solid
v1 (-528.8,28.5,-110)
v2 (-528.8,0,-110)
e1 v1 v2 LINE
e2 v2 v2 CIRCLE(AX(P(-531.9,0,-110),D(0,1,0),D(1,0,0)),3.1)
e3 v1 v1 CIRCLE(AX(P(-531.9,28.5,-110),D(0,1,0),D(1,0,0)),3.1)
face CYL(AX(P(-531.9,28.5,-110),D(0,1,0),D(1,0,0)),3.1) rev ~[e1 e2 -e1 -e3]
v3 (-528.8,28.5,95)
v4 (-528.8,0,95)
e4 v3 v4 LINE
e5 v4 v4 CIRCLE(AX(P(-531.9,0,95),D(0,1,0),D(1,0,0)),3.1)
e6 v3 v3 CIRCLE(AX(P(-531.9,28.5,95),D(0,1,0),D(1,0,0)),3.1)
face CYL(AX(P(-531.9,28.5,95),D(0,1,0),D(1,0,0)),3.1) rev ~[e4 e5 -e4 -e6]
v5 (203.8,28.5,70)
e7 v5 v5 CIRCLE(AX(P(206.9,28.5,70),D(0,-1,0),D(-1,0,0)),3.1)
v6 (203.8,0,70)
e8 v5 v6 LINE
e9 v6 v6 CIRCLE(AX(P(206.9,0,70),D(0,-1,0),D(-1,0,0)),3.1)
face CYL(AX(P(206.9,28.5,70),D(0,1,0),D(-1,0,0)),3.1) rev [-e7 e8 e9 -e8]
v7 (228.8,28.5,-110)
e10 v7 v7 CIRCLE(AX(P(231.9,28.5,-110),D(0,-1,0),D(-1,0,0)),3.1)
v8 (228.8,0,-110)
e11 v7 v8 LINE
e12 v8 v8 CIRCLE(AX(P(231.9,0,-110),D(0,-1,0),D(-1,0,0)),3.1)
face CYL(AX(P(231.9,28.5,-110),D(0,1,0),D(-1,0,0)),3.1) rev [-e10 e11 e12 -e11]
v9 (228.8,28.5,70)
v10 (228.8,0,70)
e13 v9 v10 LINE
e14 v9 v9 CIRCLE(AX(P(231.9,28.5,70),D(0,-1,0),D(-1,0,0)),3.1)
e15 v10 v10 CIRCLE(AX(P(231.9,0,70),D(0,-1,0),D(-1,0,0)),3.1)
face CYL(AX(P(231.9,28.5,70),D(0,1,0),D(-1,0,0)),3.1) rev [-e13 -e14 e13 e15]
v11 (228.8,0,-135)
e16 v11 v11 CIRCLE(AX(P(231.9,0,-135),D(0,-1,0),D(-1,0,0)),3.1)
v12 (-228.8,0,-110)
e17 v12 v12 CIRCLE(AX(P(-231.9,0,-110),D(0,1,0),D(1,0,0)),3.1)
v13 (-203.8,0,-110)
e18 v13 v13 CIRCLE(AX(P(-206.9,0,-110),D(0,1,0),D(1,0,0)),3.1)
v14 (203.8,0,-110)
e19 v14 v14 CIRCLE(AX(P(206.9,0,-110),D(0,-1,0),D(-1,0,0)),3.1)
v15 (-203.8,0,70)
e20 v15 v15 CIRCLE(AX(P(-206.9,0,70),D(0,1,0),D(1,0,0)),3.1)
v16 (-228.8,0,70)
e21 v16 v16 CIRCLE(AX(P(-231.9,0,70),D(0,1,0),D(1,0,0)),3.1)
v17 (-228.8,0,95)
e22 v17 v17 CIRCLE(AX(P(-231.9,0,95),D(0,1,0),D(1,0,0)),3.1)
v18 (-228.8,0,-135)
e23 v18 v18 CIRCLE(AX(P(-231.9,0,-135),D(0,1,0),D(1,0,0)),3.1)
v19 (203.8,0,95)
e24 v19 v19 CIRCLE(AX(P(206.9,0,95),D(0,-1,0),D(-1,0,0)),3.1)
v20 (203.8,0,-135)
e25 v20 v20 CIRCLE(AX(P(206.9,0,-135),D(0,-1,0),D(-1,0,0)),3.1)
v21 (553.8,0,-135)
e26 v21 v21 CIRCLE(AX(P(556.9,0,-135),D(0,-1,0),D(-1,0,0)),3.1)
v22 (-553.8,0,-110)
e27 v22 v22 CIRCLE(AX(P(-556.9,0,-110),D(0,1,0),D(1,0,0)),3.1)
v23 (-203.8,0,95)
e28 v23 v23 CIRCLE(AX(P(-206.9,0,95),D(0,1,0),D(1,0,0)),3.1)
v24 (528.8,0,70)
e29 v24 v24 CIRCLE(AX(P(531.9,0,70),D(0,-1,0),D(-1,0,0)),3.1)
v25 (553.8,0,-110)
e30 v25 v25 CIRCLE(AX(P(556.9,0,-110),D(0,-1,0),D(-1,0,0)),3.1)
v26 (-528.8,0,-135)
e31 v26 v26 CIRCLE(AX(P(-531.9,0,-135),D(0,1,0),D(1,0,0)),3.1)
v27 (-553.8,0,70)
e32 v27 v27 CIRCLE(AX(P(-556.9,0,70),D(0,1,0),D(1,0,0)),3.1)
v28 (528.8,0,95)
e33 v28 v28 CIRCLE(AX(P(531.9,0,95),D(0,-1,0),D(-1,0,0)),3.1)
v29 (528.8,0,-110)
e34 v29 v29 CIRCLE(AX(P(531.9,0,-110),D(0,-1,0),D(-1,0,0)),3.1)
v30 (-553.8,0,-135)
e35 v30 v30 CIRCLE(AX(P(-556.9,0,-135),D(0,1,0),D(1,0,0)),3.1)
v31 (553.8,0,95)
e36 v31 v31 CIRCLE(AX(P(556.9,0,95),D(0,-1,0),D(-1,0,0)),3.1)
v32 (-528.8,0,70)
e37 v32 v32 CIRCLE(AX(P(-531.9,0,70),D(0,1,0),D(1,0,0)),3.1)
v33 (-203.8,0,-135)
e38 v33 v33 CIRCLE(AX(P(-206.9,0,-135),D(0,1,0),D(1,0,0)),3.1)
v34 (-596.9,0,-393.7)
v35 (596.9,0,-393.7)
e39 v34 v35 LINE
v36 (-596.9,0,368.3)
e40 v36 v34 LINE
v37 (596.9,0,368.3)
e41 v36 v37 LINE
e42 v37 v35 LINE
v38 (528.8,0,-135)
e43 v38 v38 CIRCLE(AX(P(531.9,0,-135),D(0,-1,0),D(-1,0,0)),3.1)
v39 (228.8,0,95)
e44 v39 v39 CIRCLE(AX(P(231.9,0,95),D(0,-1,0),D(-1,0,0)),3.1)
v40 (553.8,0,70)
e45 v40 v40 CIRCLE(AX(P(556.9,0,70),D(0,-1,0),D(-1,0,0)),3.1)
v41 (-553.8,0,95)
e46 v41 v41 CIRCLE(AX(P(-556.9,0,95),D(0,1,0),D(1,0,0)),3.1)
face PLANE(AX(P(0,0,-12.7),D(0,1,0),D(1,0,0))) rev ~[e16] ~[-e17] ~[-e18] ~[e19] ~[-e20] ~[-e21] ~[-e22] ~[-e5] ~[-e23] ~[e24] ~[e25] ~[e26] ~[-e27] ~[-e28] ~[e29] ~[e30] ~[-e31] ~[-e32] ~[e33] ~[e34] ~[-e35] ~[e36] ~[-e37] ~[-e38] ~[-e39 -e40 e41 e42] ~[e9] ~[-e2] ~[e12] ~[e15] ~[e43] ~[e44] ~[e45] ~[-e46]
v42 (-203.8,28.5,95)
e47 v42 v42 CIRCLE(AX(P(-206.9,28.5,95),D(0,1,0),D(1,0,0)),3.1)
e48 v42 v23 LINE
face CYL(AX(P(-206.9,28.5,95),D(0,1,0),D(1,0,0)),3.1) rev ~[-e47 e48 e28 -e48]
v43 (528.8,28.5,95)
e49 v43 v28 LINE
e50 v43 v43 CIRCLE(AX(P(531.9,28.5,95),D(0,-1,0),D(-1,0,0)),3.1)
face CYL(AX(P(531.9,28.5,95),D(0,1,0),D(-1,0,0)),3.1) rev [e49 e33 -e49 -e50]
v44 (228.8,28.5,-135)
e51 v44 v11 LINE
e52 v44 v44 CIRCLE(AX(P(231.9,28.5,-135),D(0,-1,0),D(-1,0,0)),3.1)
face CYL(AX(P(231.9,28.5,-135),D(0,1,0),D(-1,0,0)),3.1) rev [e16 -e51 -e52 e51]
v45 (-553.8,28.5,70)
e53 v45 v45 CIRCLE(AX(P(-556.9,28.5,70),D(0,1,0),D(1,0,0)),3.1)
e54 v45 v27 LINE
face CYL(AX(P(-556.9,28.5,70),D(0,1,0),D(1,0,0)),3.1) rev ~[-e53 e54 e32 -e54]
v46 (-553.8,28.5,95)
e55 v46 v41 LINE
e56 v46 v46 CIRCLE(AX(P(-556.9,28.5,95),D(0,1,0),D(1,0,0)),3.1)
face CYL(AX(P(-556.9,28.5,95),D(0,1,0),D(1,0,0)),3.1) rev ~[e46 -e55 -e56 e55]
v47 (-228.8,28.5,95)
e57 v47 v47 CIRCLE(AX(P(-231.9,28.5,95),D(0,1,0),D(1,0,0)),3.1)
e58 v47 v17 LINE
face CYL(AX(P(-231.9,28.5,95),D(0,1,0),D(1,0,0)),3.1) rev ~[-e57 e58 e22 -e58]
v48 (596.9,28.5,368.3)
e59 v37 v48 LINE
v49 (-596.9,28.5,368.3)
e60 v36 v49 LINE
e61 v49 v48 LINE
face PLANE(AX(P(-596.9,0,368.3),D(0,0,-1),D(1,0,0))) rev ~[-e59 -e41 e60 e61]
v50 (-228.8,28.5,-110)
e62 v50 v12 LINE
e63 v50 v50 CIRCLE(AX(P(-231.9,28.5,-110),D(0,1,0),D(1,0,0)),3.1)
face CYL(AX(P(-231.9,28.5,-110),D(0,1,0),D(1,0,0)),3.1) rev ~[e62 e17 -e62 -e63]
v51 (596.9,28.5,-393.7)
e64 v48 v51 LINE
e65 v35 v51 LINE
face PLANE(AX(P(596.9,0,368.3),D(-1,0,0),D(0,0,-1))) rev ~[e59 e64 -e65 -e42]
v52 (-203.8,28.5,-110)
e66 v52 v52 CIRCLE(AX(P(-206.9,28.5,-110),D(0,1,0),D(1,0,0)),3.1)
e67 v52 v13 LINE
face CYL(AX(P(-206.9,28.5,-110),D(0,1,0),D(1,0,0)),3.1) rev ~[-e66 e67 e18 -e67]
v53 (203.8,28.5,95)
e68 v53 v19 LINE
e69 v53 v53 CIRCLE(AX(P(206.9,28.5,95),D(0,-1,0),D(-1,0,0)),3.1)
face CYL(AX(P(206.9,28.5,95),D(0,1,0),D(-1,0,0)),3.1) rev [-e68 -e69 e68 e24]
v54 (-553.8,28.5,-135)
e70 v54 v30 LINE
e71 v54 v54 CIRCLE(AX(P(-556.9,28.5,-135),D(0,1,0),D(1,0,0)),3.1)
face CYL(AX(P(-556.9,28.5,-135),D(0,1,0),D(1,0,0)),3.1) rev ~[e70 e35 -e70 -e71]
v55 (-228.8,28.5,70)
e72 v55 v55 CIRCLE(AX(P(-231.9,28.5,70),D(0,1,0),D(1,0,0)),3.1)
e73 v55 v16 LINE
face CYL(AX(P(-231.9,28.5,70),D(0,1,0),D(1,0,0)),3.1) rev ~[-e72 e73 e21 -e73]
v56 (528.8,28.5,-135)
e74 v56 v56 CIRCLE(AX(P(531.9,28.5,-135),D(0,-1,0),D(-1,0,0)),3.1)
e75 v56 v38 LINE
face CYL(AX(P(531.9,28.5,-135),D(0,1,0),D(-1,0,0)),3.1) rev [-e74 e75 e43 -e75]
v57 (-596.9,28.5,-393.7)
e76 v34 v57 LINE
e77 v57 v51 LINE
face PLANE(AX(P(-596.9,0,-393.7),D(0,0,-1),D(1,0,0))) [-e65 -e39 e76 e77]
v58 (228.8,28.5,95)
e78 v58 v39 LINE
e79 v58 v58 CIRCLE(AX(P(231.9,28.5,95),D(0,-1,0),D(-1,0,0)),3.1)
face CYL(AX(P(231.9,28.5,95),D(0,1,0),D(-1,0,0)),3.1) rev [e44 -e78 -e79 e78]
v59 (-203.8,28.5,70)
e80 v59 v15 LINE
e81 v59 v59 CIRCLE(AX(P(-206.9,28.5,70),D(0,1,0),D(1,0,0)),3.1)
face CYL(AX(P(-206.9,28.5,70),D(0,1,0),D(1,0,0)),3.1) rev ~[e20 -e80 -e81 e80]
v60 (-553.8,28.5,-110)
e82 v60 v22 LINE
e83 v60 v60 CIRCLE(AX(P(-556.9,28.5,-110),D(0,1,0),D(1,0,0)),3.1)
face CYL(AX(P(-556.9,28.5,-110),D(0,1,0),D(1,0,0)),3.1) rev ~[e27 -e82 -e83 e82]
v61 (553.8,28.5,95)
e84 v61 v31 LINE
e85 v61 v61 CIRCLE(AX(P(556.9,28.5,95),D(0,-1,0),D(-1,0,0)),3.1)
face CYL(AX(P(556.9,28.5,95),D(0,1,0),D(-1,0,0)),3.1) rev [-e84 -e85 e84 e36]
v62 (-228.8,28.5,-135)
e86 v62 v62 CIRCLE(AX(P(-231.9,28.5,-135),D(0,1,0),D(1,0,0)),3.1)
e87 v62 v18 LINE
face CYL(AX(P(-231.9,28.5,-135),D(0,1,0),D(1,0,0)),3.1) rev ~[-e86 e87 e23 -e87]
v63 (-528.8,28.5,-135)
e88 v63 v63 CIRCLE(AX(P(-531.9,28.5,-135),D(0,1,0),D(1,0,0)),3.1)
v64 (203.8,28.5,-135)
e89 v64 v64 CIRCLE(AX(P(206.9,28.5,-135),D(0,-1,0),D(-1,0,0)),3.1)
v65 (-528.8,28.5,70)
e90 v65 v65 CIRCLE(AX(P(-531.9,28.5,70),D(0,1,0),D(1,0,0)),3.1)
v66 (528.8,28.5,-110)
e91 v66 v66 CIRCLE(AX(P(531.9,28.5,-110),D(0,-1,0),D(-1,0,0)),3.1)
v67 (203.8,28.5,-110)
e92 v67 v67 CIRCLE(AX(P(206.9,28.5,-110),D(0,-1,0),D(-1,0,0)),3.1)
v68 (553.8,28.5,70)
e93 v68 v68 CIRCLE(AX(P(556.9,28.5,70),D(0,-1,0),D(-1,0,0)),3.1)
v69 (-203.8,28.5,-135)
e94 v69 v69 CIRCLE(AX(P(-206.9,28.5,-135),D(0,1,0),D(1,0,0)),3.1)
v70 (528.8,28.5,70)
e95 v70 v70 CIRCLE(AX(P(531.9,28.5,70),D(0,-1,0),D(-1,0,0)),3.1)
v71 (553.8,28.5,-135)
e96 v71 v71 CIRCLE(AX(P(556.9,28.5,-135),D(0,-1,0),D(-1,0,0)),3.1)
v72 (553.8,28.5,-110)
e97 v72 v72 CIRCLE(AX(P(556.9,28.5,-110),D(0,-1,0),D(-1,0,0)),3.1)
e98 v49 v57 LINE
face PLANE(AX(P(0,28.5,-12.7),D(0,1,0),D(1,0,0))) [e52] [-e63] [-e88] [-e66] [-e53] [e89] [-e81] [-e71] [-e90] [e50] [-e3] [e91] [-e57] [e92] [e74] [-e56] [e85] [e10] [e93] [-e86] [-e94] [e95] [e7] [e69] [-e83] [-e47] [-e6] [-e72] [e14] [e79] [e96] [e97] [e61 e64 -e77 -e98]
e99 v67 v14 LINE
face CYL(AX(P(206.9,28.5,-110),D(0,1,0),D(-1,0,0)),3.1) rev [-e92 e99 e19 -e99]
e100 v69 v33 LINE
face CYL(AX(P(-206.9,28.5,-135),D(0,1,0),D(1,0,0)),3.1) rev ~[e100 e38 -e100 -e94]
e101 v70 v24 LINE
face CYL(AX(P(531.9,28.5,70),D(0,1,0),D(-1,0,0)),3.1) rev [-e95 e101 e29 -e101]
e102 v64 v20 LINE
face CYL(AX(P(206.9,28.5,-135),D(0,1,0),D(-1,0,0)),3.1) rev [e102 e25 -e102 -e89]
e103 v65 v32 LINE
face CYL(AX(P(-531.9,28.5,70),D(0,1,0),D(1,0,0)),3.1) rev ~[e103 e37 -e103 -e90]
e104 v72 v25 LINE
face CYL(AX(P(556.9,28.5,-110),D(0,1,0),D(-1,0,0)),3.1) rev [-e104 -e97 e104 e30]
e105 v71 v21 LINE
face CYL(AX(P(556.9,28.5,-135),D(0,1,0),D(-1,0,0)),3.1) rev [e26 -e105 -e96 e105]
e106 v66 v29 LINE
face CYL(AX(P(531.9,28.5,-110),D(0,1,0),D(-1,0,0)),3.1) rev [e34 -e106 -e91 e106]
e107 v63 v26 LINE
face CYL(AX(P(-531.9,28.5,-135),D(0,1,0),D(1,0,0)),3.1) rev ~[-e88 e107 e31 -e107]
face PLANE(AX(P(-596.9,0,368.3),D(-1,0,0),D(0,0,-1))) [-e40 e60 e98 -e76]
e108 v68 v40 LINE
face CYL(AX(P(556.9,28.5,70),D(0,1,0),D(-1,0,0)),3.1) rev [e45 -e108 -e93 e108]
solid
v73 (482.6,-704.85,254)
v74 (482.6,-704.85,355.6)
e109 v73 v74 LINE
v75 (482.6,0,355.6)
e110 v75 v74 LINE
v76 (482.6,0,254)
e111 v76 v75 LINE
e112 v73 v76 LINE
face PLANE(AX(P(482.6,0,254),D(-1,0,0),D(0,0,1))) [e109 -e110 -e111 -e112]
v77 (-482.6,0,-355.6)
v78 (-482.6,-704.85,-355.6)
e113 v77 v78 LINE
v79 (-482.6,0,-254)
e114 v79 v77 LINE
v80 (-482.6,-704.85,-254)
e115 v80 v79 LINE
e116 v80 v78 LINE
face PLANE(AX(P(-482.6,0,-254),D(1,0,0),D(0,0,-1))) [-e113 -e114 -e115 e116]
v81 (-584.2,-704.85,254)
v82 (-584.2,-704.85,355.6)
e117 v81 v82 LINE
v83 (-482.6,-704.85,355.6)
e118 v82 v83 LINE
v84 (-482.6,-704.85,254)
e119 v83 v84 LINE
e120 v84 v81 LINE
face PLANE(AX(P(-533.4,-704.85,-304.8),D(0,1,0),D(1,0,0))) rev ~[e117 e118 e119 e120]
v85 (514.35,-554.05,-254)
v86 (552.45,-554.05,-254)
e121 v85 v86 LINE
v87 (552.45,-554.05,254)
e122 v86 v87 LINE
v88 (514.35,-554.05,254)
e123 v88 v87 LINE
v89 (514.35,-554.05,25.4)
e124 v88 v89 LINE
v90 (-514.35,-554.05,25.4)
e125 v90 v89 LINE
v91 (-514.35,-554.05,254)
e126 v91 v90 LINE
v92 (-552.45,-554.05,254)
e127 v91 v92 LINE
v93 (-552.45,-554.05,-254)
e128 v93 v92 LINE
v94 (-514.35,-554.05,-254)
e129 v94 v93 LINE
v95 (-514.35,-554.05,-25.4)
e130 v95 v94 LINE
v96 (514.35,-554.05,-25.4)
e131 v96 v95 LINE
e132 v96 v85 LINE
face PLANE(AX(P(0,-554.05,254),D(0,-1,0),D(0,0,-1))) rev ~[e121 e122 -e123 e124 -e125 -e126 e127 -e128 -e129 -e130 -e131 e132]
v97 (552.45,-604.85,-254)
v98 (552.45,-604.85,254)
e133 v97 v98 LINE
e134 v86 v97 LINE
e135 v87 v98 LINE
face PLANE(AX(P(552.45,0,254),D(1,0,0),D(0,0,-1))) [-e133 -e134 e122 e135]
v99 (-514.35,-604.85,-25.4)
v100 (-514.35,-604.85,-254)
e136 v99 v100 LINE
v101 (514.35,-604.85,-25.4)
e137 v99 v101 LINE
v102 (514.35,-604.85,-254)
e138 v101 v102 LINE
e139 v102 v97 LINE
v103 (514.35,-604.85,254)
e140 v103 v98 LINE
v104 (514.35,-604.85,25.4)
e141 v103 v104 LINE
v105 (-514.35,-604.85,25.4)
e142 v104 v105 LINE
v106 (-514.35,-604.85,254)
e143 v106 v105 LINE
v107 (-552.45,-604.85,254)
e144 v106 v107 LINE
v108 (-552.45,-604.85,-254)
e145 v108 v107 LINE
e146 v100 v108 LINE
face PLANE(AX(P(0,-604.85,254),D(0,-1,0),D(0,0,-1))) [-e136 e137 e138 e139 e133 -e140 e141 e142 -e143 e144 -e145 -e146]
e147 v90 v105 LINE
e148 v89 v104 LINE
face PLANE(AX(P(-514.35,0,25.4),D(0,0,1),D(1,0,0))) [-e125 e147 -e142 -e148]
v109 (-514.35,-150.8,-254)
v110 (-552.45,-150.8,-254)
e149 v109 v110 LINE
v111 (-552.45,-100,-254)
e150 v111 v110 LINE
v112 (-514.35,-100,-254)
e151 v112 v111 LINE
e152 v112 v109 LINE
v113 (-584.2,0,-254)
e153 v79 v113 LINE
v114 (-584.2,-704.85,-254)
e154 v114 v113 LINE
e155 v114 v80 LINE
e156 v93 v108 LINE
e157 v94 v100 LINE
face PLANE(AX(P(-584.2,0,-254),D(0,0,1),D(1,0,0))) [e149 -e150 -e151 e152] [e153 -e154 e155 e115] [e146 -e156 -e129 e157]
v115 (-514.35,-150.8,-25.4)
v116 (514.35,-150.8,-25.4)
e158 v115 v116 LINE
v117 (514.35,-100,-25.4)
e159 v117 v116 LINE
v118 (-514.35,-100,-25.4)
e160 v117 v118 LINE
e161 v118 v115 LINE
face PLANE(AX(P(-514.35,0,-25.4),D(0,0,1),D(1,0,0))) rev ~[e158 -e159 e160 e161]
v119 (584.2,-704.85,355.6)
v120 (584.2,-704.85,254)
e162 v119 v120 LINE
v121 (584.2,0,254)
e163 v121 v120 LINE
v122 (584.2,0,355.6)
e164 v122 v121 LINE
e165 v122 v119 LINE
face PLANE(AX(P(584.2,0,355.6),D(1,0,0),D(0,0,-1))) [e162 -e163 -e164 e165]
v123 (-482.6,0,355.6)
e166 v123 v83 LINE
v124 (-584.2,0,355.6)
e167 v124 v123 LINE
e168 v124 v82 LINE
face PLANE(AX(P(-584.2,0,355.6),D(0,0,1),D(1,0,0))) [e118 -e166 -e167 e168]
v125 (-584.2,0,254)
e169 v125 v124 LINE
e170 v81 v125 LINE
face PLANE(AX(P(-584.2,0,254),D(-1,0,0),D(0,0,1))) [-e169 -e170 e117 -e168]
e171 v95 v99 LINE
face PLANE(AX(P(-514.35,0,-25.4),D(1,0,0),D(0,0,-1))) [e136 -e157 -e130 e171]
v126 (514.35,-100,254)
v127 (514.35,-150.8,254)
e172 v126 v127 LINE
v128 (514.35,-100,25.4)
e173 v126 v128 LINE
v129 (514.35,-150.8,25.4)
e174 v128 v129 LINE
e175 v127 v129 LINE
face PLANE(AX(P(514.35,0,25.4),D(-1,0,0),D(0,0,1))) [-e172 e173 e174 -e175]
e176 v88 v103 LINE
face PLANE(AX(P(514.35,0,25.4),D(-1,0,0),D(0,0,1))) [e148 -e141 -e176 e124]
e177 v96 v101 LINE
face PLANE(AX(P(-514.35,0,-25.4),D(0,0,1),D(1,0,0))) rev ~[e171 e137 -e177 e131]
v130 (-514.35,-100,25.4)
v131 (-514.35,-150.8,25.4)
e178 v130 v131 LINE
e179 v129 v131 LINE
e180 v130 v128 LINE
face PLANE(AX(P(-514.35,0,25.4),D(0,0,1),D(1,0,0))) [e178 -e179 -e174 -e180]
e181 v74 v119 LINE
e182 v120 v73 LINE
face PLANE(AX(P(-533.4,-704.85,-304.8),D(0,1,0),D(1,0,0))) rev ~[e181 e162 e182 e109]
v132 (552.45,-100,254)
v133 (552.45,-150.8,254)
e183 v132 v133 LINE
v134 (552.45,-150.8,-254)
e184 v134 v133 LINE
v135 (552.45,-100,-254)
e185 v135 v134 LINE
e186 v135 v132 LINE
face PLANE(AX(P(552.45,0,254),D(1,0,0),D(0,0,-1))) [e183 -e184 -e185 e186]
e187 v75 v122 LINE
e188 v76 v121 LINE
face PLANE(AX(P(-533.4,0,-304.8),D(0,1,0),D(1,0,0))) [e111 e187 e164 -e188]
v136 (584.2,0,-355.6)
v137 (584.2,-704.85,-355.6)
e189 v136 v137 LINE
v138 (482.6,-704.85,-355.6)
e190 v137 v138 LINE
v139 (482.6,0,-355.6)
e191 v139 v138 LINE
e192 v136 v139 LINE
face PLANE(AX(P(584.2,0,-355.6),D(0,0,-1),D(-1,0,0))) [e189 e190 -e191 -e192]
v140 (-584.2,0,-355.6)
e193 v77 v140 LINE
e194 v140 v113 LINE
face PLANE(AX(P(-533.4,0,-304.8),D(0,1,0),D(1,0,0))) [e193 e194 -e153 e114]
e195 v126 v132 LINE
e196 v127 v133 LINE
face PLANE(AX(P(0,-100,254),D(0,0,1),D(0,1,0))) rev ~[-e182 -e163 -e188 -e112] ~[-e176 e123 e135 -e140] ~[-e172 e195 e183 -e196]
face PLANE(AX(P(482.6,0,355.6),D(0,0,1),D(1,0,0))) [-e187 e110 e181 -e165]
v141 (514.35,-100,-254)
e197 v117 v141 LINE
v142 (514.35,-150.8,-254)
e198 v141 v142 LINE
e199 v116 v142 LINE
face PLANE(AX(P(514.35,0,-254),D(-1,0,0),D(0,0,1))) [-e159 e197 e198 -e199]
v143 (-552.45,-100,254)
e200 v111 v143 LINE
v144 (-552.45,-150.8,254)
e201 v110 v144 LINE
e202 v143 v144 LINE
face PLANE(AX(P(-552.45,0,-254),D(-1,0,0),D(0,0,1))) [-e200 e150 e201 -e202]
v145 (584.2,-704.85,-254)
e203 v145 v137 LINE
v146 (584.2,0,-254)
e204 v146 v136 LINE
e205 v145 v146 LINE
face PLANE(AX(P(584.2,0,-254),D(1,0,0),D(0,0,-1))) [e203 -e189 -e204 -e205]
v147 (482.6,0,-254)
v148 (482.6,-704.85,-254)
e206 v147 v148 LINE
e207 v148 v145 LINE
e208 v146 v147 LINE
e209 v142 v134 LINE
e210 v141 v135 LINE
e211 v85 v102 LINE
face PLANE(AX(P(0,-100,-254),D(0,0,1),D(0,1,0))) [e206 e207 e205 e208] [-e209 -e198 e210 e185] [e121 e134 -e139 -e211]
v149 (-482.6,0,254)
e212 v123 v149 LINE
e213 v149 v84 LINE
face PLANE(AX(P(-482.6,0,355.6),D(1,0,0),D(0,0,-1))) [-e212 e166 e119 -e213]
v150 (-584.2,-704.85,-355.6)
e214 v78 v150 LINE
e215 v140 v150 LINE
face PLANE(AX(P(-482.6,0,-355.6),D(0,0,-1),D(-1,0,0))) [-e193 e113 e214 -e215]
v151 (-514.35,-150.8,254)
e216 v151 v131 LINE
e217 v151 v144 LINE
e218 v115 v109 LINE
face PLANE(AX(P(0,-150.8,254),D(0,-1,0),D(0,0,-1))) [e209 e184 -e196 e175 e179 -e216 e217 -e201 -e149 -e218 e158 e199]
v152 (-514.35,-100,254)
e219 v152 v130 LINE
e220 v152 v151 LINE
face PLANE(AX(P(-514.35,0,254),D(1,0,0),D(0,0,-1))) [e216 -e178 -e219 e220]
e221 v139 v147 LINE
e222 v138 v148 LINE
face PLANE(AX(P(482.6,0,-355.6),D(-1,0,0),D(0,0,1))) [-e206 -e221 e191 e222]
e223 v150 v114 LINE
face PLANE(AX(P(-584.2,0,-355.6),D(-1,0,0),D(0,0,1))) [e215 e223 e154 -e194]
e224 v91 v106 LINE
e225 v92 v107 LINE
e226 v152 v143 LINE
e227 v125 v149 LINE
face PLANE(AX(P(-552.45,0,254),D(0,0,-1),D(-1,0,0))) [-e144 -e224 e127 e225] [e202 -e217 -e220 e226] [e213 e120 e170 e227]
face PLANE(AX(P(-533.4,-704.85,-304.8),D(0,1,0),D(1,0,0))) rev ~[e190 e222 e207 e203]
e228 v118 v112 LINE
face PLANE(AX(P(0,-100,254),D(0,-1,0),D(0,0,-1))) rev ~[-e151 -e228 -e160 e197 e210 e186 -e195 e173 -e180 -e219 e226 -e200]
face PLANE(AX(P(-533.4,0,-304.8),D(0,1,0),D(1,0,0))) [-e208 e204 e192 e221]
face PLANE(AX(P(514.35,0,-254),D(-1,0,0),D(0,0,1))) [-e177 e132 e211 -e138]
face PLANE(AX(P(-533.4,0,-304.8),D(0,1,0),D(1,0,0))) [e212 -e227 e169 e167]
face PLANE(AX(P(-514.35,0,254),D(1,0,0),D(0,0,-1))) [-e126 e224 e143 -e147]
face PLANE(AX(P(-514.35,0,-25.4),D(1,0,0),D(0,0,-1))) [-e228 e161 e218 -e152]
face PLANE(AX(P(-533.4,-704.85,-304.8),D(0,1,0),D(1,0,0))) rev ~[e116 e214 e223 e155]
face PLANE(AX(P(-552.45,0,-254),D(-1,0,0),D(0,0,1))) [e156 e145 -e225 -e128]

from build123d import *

# Parameters (mm, degrees)
SKETCH1_W               = 1028.7
SKETCH1_H               = 50.8
BOSS_EXTRUDE1_DEPTH     = 704.85
SKETCH2_W               = 508
SKETCH2_H               = 100
SKETCH2_H_2             = 403.25
CUT_EXTRUDE1_DEPTH      = 585.2
CUT_EXTRUDE1_DEPTH_BACK = 585.2
SKETCH3_W               = 1193.8
SKETCH3_H               = 762
BOSS_EXTRUDE2_DEPTH     = 28.5
SKETCH4_R               = 3.1
CUT_EXTRUDE2_DEPTH      = 28.5


with BuildPart() as part:
    # Sketch1 → Boss-Extrude1 (new body)
    with BuildSketch(Plane(origin=(0, 0, 0), x_dir=(1, 0, 0), z_dir=(0, 1, 0))):
        Polygon((-584.2, 355.6), (-584.2, 254), (-552.45, 254), (-514.35, 254), (-482.6, 254), (-482.6, 355.6), align=None)
        Polygon((584.2, 355.6), (482.6, 355.6), (482.6, 254), (514.35, 254), (552.45, 254), (584.2, 254), align=None)
        Polygon((482.6, -254), (482.6, -355.6), (584.2, -355.6), (584.2, -254), (552.45, -254), (514.35, -254), align=None)
        Polygon((-552.45, -254), (-584.2, -254), (-584.2, -355.6), (-482.6, -355.6), (-482.6, -254), (-514.35, -254), align=None)
        Polygon((-514.35, 254), (-552.45, 254), (-552.45, -254), (-514.35, -254), (-514.35, -25.4), (-514.35, 25.4), align=None)
        Rectangle(SKETCH1_W, SKETCH1_H)
        Polygon((514.35, 254), (514.35, 25.4), (514.35, -25.4), (514.35, -254), (552.45, -254), (552.45, 254), align=None)
    extrude(amount=-BOSS_EXTRUDE1_DEPTH)

    # Sketch2 → Cut-Extrude1 (cut, two sides)
    with BuildSketch(Plane(origin=(0, 0, 0), x_dir=(0, 0, -1), z_dir=(1, 0, 0))) as cut_extrude1_sk:
        with Locations((0, -50)):
            Rectangle(SKETCH2_W, SKETCH2_H)
        with Locations((0, -352.425)):
            Rectangle(SKETCH2_W, SKETCH2_H_2)
        with Locations((0, -654.85)):
            Rectangle(SKETCH2_W, SKETCH2_H)
    extrude(amount=CUT_EXTRUDE1_DEPTH, mode=Mode.SUBTRACT)
    extrude(cut_extrude1_sk.sketch, amount=-CUT_EXTRUDE1_DEPTH_BACK, mode=Mode.SUBTRACT)


with BuildPart() as body_2:
    # Sketch3 → Boss-Extrude2 (new body)
    with BuildSketch(Plane(origin=(0, 0, 0), x_dir=(1, 0, 0), z_dir=(0, 1, 0))):
        with Locations((0, 12.7)):
            Rectangle(SKETCH3_W, SKETCH3_H)
    extrude(amount=BOSS_EXTRUDE2_DEPTH)

    # Sketch4 → Cut-Extrude2 (cut)
    with BuildSketch(Plane(origin=(0, 28.5, 0), x_dir=(1, 0, 0), z_dir=(0, 1, 0))):
        with Locations((-556.9, 110)):
            Circle(SKETCH4_R)
        with Locations((-531.9, 110)):
            Circle(SKETCH4_R)
        with Locations((-531.9, 135)):
            Circle(SKETCH4_R)
        with Locations((-556.9, 135)):
            Circle(SKETCH4_R)
        with Locations((-231.9, 135)):
            Circle(SKETCH4_R)
        with Locations((-206.9, 135)):
            Circle(SKETCH4_R)
        with Locations((-231.9, 110)):
            Circle(SKETCH4_R)
        with Locations((-206.9, 110)):
            Circle(SKETCH4_R)
        with Locations((-206.9, -70)):
            Circle(SKETCH4_R)
        with Locations((-231.9, -70)):
            Circle(SKETCH4_R)
        with Locations((-231.9, -95)):
            Circle(SKETCH4_R)
        with Locations((-206.9, -95)):
            Circle(SKETCH4_R)
        with Locations((-531.9, -70)):
            Circle(SKETCH4_R)
        with Locations((-531.9, -95)):
            Circle(SKETCH4_R)
        with Locations((-556.9, -70)):
            Circle(SKETCH4_R)
        with Locations((-556.9, -95)):
            Circle(SKETCH4_R)
    cut_extrude2 = extrude(amount=-CUT_EXTRUDE2_DEPTH, mode=Mode.SUBTRACT)

    # Mirror1: Cut-Extrude2 across plane
    add(cut_extrude2.mirror(Plane(origin=(0, 0, 0), x_dir=(0, 0, 1), z_dir=(1, 0, 0))), mode=Mode.SUBTRACT)


solid = Compound([part.part, body_2.part])
